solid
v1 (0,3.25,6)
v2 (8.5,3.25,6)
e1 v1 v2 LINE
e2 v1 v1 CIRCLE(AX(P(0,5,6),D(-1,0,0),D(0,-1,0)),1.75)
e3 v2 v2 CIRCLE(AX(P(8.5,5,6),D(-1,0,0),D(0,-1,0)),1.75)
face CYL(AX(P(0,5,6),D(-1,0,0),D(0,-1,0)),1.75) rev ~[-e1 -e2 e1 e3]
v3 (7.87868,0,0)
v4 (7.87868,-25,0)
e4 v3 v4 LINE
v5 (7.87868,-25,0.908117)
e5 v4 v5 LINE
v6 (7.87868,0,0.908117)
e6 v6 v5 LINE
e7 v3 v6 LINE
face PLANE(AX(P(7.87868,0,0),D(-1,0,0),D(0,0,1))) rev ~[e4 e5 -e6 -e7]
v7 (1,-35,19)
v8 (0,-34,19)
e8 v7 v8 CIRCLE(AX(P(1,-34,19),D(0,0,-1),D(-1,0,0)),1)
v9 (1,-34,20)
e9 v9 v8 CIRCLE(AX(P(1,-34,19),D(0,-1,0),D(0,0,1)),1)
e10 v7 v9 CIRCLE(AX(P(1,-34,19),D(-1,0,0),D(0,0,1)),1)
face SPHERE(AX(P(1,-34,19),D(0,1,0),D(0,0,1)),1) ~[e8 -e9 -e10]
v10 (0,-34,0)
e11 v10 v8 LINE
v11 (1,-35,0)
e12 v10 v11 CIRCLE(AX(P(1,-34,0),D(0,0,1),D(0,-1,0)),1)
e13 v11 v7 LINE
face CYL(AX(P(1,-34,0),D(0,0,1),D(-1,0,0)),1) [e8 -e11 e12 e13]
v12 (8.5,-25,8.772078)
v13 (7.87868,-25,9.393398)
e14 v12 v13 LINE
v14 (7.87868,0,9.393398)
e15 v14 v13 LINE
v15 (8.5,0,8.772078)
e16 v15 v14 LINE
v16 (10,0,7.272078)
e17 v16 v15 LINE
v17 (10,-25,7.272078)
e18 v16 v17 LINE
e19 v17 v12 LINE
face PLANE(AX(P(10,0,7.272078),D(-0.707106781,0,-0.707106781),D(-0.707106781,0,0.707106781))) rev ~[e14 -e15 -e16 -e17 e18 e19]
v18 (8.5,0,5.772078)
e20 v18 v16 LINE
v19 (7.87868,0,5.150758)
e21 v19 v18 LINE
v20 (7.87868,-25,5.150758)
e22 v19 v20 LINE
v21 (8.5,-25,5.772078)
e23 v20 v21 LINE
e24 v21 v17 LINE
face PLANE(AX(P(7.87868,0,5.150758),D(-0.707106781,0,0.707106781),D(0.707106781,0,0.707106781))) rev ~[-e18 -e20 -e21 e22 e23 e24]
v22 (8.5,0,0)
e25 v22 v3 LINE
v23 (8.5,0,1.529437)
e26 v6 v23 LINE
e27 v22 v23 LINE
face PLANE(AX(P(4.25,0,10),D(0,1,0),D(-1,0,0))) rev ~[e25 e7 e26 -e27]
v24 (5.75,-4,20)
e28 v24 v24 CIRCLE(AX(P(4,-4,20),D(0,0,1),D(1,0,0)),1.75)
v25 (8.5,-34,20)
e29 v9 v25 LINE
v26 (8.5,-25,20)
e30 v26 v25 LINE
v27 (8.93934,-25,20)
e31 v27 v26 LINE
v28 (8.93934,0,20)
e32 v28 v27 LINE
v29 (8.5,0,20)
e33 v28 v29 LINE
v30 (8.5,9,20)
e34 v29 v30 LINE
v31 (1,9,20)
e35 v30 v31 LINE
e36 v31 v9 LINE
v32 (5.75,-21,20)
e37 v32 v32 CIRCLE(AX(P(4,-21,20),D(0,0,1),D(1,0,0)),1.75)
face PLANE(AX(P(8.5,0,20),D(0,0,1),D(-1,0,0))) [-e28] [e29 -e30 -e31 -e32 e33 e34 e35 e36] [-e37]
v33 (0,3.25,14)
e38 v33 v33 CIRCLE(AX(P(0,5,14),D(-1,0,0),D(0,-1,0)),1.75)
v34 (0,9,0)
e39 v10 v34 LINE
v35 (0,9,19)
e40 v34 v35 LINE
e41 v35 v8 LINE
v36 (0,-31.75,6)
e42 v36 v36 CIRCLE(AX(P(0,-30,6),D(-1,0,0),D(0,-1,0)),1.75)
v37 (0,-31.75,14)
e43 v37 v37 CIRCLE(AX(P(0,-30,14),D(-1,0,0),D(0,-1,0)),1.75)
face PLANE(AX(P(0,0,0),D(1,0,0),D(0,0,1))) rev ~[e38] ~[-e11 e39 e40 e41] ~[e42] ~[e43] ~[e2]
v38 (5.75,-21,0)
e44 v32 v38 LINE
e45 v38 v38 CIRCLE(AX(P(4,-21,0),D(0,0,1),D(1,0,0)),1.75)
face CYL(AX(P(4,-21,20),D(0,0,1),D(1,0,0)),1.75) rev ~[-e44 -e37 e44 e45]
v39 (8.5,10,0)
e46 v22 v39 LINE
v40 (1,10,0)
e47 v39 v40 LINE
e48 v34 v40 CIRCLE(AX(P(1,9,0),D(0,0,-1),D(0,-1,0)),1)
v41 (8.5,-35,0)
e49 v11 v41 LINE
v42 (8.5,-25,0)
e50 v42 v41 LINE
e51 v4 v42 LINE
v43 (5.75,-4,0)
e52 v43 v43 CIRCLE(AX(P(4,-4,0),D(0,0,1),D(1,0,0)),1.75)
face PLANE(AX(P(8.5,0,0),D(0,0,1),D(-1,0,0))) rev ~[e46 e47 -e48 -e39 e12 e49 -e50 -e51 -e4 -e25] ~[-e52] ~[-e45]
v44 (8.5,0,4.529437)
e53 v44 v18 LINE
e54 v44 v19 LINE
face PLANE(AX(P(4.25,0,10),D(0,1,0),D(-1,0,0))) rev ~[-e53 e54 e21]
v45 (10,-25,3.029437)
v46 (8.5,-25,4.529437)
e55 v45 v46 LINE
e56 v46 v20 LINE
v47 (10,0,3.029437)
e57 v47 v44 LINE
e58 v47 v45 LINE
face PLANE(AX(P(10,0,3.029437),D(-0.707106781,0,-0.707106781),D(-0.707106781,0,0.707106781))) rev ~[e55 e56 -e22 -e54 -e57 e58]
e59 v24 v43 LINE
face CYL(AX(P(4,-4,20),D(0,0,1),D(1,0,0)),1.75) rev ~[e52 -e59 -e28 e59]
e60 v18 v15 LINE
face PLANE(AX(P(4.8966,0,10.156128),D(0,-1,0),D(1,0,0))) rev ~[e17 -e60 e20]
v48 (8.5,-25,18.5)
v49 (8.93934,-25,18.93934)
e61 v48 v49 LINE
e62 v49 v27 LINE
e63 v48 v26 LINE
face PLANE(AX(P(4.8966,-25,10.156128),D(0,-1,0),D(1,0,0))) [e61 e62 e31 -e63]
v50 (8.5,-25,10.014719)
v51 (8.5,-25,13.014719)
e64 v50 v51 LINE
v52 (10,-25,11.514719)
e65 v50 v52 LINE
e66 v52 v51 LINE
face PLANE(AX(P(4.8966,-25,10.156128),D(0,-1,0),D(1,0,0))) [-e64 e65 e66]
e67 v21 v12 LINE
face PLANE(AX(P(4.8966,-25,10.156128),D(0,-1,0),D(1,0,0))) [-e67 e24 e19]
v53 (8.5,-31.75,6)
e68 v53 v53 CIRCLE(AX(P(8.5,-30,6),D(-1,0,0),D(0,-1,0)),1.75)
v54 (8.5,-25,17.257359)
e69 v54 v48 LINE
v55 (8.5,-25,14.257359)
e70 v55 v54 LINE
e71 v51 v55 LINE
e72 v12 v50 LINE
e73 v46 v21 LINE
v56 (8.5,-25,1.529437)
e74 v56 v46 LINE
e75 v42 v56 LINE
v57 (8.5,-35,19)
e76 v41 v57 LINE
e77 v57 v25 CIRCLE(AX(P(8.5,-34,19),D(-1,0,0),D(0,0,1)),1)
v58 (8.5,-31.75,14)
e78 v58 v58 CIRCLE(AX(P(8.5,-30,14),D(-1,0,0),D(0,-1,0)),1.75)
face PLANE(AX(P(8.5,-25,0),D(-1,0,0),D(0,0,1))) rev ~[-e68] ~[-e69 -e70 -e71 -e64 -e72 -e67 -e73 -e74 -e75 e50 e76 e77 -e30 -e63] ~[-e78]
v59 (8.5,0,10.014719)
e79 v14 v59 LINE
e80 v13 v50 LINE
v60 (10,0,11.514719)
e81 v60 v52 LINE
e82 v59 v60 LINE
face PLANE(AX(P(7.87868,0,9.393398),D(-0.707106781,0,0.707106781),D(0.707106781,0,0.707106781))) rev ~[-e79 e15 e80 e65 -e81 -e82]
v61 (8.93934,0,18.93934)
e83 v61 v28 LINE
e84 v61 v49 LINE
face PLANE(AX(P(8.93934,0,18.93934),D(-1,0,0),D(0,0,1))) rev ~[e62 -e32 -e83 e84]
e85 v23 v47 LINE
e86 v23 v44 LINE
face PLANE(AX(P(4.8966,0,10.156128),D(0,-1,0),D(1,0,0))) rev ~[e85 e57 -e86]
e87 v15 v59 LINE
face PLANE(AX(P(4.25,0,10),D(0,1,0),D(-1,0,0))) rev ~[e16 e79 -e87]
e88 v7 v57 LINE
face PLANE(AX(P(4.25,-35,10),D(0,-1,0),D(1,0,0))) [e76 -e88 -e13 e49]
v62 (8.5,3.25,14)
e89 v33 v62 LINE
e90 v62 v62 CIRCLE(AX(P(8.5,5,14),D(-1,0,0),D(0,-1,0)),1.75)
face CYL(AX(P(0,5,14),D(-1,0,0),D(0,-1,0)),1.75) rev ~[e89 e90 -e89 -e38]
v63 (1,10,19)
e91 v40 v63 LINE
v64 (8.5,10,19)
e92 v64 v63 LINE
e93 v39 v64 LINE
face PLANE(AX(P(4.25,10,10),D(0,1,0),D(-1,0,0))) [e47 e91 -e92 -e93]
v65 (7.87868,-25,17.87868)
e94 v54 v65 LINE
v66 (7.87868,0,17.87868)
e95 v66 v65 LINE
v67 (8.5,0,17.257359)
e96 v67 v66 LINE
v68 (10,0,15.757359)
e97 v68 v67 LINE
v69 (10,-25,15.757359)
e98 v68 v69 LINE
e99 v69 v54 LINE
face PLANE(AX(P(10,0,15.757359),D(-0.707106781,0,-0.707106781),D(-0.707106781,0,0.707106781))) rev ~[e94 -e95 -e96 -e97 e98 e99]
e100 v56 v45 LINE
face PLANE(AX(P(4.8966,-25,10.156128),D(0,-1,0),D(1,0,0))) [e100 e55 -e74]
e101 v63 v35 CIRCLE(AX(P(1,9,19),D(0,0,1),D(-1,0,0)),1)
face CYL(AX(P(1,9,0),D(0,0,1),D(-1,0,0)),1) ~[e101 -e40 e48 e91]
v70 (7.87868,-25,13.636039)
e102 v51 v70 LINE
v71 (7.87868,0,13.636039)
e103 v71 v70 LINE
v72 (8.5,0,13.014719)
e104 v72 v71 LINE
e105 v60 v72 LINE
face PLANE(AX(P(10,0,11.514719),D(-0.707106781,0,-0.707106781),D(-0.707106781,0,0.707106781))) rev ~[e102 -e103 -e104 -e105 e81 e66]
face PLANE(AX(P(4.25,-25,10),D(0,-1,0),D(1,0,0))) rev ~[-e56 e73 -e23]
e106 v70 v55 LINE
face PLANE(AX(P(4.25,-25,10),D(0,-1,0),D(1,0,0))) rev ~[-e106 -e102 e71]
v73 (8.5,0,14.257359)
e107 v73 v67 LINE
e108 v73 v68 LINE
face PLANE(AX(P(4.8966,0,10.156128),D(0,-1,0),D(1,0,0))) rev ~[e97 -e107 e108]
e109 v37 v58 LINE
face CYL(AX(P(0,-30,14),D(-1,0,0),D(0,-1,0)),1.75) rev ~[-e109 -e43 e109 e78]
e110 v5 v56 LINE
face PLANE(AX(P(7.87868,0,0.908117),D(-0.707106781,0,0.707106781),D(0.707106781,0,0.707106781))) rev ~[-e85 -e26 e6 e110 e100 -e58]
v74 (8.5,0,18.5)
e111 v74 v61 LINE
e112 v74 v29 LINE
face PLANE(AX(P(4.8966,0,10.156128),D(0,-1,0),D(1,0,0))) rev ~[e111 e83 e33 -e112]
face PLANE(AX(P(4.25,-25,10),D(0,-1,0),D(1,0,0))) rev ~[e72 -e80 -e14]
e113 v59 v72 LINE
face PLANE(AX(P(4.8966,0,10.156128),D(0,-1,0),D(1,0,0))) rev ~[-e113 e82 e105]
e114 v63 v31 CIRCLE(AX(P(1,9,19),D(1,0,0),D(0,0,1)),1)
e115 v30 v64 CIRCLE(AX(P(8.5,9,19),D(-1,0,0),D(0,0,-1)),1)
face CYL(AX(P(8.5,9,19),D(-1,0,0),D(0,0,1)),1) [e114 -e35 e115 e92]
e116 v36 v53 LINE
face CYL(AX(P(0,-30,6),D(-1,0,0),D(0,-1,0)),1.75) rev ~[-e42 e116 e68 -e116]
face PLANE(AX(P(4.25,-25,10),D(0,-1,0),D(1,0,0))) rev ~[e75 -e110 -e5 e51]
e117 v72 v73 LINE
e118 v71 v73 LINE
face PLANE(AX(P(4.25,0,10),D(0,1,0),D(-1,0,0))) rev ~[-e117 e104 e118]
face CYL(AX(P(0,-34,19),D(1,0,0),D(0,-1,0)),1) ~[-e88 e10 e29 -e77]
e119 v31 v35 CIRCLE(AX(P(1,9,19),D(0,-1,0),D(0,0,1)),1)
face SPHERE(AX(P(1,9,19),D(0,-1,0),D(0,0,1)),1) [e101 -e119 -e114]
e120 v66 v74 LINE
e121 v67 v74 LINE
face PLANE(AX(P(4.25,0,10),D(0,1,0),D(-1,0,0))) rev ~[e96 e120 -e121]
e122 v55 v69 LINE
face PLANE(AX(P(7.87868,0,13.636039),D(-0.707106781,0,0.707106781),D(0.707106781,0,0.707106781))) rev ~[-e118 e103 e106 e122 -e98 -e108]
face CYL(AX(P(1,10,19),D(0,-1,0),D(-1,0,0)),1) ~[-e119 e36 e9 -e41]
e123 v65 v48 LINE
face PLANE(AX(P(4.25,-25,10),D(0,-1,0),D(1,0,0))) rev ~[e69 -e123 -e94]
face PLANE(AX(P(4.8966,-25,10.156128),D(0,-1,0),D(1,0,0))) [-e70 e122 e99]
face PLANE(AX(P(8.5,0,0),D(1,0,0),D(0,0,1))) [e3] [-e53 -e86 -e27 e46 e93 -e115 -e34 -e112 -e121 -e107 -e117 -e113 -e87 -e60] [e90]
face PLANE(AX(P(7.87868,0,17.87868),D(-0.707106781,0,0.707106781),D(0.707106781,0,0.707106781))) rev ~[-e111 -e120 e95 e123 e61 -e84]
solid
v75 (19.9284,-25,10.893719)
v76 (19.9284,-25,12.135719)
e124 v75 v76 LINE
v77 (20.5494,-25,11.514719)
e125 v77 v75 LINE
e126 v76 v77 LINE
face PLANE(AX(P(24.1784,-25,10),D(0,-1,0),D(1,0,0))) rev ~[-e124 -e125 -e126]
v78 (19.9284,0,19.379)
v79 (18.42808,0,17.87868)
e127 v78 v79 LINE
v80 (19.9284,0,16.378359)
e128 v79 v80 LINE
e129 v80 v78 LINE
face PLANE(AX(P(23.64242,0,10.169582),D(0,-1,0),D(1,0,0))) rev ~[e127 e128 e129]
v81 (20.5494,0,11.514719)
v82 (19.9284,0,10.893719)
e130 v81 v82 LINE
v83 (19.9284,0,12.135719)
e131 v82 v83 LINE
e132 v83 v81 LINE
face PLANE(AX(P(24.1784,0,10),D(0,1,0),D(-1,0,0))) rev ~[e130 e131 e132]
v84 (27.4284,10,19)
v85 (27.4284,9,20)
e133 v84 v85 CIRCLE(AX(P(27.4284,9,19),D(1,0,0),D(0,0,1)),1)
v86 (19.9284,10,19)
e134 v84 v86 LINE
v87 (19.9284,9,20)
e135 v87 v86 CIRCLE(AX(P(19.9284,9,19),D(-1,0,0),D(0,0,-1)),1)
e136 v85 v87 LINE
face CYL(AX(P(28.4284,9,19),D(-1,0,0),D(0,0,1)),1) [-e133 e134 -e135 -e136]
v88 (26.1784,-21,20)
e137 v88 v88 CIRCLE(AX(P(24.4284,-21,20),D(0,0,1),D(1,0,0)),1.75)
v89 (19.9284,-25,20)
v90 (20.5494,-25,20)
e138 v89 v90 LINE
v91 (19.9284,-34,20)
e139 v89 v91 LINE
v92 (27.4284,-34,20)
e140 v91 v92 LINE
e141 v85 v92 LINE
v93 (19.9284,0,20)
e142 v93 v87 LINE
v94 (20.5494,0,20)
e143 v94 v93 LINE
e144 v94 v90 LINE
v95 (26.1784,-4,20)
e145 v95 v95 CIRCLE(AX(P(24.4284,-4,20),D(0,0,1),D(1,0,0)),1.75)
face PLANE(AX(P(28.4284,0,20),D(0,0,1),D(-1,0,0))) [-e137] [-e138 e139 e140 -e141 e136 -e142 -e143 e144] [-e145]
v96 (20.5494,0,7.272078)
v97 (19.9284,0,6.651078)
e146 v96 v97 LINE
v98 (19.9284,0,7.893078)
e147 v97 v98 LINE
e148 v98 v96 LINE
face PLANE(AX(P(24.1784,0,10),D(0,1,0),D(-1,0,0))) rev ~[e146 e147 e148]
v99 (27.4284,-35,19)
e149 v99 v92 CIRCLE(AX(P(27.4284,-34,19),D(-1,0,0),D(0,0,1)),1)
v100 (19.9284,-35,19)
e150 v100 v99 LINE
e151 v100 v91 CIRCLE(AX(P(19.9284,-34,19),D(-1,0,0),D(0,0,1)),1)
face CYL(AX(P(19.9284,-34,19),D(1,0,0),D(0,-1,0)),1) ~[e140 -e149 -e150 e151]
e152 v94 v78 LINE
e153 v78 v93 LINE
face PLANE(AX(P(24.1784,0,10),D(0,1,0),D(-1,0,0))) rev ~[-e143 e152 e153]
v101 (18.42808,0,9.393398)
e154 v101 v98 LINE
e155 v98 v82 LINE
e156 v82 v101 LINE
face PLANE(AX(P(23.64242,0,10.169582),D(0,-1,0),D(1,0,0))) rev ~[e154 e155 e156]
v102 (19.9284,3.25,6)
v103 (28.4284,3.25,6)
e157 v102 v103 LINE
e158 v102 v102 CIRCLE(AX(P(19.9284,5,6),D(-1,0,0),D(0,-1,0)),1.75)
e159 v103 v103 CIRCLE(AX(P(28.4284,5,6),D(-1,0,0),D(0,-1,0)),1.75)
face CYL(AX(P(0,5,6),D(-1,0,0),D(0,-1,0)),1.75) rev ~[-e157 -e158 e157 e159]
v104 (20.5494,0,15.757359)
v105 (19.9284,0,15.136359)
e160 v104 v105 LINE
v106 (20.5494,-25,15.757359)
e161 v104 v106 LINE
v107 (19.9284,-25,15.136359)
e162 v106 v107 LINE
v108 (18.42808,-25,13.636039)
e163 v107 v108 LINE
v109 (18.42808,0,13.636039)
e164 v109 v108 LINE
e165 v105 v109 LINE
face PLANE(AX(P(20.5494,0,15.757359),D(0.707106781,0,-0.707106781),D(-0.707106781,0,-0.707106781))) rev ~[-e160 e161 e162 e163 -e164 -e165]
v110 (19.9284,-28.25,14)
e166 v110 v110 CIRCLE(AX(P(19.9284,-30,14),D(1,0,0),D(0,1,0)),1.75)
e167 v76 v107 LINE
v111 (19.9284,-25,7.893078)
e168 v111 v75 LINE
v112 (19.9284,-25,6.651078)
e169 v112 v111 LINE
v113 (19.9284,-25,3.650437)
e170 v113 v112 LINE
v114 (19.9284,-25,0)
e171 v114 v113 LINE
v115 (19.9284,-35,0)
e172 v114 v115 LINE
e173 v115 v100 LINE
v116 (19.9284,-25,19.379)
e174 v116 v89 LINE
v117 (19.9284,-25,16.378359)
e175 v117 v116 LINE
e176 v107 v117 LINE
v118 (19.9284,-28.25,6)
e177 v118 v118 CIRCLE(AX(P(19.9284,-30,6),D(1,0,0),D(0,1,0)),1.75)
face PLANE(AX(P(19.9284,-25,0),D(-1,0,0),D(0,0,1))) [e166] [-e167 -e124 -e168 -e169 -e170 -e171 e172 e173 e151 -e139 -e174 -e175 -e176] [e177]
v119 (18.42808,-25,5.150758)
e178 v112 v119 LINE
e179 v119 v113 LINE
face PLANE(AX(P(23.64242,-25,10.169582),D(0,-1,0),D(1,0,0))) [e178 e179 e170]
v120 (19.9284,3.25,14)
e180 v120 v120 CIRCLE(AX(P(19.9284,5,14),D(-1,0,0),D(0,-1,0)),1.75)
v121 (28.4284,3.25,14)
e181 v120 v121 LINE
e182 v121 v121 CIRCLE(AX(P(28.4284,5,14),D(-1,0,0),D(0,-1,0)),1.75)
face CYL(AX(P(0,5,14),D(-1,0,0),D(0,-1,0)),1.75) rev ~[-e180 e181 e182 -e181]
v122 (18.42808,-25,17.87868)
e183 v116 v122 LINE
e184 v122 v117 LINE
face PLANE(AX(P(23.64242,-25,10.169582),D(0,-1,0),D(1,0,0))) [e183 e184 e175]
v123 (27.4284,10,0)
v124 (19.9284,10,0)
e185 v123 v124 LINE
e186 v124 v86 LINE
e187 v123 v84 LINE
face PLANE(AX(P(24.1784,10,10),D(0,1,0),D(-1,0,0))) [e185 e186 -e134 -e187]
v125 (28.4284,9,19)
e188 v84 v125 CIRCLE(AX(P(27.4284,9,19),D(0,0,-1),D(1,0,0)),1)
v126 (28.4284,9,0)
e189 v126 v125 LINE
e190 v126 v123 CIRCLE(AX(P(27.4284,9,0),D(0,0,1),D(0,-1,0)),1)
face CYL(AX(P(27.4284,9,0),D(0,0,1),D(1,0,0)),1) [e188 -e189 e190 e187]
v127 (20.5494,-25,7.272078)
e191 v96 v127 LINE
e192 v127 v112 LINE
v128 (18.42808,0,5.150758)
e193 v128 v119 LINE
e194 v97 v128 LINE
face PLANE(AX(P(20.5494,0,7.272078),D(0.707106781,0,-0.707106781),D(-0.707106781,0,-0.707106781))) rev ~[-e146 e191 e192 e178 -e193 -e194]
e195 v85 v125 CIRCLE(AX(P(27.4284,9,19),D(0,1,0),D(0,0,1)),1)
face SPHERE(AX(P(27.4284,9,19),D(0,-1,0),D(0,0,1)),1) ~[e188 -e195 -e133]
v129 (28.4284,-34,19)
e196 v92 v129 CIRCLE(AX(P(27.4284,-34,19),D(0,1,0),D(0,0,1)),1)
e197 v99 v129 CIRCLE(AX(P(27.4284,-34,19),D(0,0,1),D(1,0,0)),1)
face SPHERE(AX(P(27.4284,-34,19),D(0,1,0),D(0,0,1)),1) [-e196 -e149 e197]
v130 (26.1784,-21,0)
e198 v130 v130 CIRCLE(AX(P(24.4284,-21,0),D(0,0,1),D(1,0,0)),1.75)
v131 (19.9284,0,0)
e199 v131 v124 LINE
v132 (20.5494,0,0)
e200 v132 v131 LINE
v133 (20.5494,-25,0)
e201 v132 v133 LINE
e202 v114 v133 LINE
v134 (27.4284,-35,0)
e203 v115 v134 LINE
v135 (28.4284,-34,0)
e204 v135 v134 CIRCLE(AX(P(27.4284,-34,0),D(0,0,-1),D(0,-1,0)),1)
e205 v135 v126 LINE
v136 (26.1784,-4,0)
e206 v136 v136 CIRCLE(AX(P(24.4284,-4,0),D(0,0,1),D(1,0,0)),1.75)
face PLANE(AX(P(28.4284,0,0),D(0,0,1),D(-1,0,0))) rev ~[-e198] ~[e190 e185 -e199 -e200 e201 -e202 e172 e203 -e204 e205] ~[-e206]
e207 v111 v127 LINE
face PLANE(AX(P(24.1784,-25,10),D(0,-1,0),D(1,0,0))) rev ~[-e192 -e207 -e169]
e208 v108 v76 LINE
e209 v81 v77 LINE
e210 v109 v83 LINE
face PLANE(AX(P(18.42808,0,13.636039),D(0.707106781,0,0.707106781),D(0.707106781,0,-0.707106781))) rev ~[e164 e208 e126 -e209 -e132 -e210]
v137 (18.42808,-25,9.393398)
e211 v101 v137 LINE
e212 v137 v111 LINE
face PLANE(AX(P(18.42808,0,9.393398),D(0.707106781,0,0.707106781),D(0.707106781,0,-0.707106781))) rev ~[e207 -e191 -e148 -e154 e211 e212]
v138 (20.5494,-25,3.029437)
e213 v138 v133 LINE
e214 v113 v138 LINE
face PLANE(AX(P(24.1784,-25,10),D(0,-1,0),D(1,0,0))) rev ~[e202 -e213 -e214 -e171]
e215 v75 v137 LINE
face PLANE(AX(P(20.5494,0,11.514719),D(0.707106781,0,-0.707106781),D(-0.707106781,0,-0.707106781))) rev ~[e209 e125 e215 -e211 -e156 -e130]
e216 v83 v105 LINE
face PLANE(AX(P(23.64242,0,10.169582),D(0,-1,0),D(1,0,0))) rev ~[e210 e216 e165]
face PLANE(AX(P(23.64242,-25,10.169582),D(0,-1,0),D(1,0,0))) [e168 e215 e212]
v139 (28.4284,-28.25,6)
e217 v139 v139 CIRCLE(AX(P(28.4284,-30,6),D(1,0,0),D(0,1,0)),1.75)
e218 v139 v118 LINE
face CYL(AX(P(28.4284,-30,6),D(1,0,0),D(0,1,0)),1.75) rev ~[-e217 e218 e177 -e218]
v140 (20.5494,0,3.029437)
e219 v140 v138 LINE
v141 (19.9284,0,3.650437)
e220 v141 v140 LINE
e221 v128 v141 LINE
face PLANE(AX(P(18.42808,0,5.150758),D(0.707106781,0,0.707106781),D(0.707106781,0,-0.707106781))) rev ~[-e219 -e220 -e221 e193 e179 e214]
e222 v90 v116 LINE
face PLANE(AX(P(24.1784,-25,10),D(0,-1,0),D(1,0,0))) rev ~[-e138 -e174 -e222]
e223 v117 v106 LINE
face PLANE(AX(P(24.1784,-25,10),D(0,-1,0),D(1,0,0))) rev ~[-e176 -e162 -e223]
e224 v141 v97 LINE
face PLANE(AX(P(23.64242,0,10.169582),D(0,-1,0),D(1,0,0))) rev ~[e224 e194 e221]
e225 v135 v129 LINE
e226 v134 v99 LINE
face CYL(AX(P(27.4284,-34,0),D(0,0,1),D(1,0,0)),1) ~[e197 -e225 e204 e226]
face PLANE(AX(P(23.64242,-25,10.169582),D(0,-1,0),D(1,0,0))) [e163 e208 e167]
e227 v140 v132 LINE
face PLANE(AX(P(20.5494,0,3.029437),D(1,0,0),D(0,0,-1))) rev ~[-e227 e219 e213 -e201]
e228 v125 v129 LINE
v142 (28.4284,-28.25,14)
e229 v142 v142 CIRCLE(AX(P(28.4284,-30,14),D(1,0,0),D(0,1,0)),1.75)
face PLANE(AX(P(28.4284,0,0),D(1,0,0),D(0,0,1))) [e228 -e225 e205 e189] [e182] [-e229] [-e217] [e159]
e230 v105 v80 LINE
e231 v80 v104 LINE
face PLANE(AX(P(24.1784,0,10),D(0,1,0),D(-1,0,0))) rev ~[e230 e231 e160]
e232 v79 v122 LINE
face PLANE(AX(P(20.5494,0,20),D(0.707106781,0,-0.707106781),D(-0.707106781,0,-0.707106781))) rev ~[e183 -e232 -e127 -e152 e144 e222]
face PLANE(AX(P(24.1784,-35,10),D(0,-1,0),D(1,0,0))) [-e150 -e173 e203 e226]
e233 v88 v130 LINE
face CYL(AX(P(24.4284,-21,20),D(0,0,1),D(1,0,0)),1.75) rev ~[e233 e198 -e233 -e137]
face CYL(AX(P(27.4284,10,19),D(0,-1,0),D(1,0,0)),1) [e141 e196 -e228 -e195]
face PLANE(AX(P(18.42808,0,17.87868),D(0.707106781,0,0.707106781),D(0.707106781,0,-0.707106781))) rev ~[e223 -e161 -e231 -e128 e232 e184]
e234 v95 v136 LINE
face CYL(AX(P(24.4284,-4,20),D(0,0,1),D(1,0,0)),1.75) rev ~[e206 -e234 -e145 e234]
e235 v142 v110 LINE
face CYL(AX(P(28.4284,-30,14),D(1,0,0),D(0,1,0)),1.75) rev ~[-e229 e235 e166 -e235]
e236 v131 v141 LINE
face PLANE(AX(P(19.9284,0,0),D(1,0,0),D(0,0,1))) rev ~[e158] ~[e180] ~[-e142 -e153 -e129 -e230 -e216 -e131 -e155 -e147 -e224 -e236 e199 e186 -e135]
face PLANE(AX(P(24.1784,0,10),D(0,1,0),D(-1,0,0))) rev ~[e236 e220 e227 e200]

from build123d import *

# Parameters (mm, degrees)
F1_DEPTH  = 25
F2_W      = 8.5
F2_H      = 20
F3_DEPTH  = 10
F4_W      = 8.5
F4_H      = 20
F5_DEPTH  = 10
F6_R      = 1.75
F7_DEPTH  = 35
F8_R      = 1.75
F9_DEPTH  = 25
F10_R     = 1.75
F11_DEPTH = 13.2
F12_R     = 1.75
F13_DEPTH = 25
F14_R     = 1.75
F15_DEPTH = 25
F18_R     = 1
F18_2_R   = 1


with BuildPart() as f1:
    # F0 (on Front) → F1 (new body)
    with BuildSketch(Plane.XZ):
        Polygon((0, 20), (0, 0), (7.8786796564, 0), (7.8786796564, 0.908116908), (10, 3.0294372515), (7.8786796564, 5.1507575951), (10, 7.2720779386), (7.8786796564, 9.3933982822), (10, 11.5147186258), (7.8786796564, 13.6360389693), (10, 15.7573593129), (7.8786796564, 17.8786796564), (8.9393398282, 18.9393398282), (8.9393398282, 20), align=None)
    extrude(amount=F1_DEPTH)

    # F12 (on face) → F13 (cut)
    with BuildSketch(Plane.XY.offset(20)):
        with Locations((4, -4)):
            Circle(F12_R)
        with Locations((4, -21)):
            Circle(F12_R)
    extrude(amount=-F13_DEPTH, mode=Mode.SUBTRACT)


with BuildPart() as f1b:
    # F0 (on Front) → F1, piece 2 (new body)
    with BuildSketch(Plane.XZ):
        Polygon((20.5494001589, 3.0294372515), (20.5494001589, 0), (28.4284001589, 0), (28.4284001589, 20), (20.5494001589, 20), (18.4280798153, 17.8786796564), (20.5494001589, 15.7573593129), (18.4280798153, 13.6360389693), (20.5494001589, 11.5147186258), (18.4280798153, 9.3933982822), (20.5494001589, 7.2720779386), (18.4280798153, 5.1507575951), align=None)
    extrude(amount=F1_DEPTH)

    # F14 (on face) → F15 (cut)
    with BuildSketch(Plane.XY.offset(20)):
        with Locations((24.4284001589, -4)):
            Circle(F14_R)
        with Locations((24.4284001589, -21)):
            Circle(F14_R)
    extrude(amount=-F15_DEPTH, mode=Mode.SUBTRACT)


with BuildPart() as f3:
    # F2 (on face) → F3 (new body)
    with BuildSketch(Plane.XZ.offset(25)):
        with Locations((24.1784001589, 10)):
            Rectangle(F2_W, F2_H)
    extrude(amount=F3_DEPTH)

    # F10 (on face) → F11 (cut)
    with BuildSketch(Plane.YZ.offset(28.4284001589)):
        with Locations((-30, 14)):
            Circle(F10_R)
        with Locations((-30, 6)):
            Circle(F10_R)
        with Locations((5, 14)):
            Circle(F10_R)
        with Locations((5, 6)):
            Circle(F10_R)
    extrude(amount=-F11_DEPTH, mode=Mode.SUBTRACT)


with BuildPart() as f3b:
    # F2 (on face) → F3, piece 2 (new body)
    with BuildSketch(Plane.XZ.offset(25)):
        with Locations((4.25, 10)):
            Rectangle(F2_W, F2_H)
    extrude(amount=F3_DEPTH)

    # F8 (on face) → F9 (cut)
    with BuildSketch(Plane(origin=(0, 0, 0), x_dir=(0, -1, 0), z_dir=(-1, 0, 0))):
        with Locations((30, 14)):
            Circle(F8_R)
        with Locations((30, 6)):
            Circle(F8_R)
    extrude(amount=-F9_DEPTH, mode=Mode.SUBTRACT)


with BuildPart() as f5:
    # F4 (on face) → F5 (new body)
    with BuildSketch(Plane(origin=(0, 0, 0), x_dir=(-1, 0, 0), z_dir=(0, 1, 0))):
        with Locations((-24.1784001589, 10)):
            Rectangle(F4_W, F4_H)
    extrude(amount=F5_DEPTH)


with BuildPart() as f5b:
    # F4 (on face) → F5, piece 2 (new body)
    with BuildSketch(Plane(origin=(0, 0, 0), x_dir=(-1, 0, 0), z_dir=(0, 1, 0))):
        with Locations((-4.25, 10)):
            Rectangle(F4_W, F4_H)
    extrude(amount=F5_DEPTH)


with BuildPart() as f7_tool:
    # F6 (on face) → F7 (new body)
    with BuildSketch(Plane(origin=(0, 0, 0), x_dir=(0, -1, 0), z_dir=(-1, 0, 0))):
        with Locations((-5, 14)):
            Circle(F6_R)
        with Locations((-5, 6)):
            Circle(F6_R)
    extrude(amount=-F7_DEPTH)


with BuildPart() as f5_1:
    add(f5.part)

    # F7: cut by f7_tool
    add(f7_tool.part, mode=Mode.SUBTRACT)


with BuildPart() as f5b_1:
    add(f5b.part)

    # F7: cut by f7_tool
    add(f7_tool.part, mode=Mode.SUBTRACT)


with BuildPart() as f3b_1:
    add(f3b.part)

    # F16: union F1, F5b
    add(f1.part)
    add(f5b_1.part)

    # F18
    f18_edges = [f3b_1.edges().sort_by_distance(p)[0] for p in [
        (0, -12.5, 20),
        (4.25, 10, 20),
        (4.25, -35, 20),
        (0, 10, 10),
        (0, -35, 10),
    ]]
    fillet(f18_edges, radius=F18_R)


with BuildPart() as f3_1:
    add(f3.part)

    # F17: union F1b, F5
    add(f1b.part)
    add(f5_1.part)

    # F18#2
    f18_2_edges = [f3_1.edges().sort_by_distance(p)[0] for p in [
        (28.4284, -12.5, 20),
        (24.1784, -35, 20),
        (24.1784, 10, 20),
        (28.4284, 10, 10),
        (28.4284, -35, 10),
    ]]
    fillet(f18_2_edges, radius=F18_2_R)


solid = Compound([f3b_1.part, f3_1.part])
